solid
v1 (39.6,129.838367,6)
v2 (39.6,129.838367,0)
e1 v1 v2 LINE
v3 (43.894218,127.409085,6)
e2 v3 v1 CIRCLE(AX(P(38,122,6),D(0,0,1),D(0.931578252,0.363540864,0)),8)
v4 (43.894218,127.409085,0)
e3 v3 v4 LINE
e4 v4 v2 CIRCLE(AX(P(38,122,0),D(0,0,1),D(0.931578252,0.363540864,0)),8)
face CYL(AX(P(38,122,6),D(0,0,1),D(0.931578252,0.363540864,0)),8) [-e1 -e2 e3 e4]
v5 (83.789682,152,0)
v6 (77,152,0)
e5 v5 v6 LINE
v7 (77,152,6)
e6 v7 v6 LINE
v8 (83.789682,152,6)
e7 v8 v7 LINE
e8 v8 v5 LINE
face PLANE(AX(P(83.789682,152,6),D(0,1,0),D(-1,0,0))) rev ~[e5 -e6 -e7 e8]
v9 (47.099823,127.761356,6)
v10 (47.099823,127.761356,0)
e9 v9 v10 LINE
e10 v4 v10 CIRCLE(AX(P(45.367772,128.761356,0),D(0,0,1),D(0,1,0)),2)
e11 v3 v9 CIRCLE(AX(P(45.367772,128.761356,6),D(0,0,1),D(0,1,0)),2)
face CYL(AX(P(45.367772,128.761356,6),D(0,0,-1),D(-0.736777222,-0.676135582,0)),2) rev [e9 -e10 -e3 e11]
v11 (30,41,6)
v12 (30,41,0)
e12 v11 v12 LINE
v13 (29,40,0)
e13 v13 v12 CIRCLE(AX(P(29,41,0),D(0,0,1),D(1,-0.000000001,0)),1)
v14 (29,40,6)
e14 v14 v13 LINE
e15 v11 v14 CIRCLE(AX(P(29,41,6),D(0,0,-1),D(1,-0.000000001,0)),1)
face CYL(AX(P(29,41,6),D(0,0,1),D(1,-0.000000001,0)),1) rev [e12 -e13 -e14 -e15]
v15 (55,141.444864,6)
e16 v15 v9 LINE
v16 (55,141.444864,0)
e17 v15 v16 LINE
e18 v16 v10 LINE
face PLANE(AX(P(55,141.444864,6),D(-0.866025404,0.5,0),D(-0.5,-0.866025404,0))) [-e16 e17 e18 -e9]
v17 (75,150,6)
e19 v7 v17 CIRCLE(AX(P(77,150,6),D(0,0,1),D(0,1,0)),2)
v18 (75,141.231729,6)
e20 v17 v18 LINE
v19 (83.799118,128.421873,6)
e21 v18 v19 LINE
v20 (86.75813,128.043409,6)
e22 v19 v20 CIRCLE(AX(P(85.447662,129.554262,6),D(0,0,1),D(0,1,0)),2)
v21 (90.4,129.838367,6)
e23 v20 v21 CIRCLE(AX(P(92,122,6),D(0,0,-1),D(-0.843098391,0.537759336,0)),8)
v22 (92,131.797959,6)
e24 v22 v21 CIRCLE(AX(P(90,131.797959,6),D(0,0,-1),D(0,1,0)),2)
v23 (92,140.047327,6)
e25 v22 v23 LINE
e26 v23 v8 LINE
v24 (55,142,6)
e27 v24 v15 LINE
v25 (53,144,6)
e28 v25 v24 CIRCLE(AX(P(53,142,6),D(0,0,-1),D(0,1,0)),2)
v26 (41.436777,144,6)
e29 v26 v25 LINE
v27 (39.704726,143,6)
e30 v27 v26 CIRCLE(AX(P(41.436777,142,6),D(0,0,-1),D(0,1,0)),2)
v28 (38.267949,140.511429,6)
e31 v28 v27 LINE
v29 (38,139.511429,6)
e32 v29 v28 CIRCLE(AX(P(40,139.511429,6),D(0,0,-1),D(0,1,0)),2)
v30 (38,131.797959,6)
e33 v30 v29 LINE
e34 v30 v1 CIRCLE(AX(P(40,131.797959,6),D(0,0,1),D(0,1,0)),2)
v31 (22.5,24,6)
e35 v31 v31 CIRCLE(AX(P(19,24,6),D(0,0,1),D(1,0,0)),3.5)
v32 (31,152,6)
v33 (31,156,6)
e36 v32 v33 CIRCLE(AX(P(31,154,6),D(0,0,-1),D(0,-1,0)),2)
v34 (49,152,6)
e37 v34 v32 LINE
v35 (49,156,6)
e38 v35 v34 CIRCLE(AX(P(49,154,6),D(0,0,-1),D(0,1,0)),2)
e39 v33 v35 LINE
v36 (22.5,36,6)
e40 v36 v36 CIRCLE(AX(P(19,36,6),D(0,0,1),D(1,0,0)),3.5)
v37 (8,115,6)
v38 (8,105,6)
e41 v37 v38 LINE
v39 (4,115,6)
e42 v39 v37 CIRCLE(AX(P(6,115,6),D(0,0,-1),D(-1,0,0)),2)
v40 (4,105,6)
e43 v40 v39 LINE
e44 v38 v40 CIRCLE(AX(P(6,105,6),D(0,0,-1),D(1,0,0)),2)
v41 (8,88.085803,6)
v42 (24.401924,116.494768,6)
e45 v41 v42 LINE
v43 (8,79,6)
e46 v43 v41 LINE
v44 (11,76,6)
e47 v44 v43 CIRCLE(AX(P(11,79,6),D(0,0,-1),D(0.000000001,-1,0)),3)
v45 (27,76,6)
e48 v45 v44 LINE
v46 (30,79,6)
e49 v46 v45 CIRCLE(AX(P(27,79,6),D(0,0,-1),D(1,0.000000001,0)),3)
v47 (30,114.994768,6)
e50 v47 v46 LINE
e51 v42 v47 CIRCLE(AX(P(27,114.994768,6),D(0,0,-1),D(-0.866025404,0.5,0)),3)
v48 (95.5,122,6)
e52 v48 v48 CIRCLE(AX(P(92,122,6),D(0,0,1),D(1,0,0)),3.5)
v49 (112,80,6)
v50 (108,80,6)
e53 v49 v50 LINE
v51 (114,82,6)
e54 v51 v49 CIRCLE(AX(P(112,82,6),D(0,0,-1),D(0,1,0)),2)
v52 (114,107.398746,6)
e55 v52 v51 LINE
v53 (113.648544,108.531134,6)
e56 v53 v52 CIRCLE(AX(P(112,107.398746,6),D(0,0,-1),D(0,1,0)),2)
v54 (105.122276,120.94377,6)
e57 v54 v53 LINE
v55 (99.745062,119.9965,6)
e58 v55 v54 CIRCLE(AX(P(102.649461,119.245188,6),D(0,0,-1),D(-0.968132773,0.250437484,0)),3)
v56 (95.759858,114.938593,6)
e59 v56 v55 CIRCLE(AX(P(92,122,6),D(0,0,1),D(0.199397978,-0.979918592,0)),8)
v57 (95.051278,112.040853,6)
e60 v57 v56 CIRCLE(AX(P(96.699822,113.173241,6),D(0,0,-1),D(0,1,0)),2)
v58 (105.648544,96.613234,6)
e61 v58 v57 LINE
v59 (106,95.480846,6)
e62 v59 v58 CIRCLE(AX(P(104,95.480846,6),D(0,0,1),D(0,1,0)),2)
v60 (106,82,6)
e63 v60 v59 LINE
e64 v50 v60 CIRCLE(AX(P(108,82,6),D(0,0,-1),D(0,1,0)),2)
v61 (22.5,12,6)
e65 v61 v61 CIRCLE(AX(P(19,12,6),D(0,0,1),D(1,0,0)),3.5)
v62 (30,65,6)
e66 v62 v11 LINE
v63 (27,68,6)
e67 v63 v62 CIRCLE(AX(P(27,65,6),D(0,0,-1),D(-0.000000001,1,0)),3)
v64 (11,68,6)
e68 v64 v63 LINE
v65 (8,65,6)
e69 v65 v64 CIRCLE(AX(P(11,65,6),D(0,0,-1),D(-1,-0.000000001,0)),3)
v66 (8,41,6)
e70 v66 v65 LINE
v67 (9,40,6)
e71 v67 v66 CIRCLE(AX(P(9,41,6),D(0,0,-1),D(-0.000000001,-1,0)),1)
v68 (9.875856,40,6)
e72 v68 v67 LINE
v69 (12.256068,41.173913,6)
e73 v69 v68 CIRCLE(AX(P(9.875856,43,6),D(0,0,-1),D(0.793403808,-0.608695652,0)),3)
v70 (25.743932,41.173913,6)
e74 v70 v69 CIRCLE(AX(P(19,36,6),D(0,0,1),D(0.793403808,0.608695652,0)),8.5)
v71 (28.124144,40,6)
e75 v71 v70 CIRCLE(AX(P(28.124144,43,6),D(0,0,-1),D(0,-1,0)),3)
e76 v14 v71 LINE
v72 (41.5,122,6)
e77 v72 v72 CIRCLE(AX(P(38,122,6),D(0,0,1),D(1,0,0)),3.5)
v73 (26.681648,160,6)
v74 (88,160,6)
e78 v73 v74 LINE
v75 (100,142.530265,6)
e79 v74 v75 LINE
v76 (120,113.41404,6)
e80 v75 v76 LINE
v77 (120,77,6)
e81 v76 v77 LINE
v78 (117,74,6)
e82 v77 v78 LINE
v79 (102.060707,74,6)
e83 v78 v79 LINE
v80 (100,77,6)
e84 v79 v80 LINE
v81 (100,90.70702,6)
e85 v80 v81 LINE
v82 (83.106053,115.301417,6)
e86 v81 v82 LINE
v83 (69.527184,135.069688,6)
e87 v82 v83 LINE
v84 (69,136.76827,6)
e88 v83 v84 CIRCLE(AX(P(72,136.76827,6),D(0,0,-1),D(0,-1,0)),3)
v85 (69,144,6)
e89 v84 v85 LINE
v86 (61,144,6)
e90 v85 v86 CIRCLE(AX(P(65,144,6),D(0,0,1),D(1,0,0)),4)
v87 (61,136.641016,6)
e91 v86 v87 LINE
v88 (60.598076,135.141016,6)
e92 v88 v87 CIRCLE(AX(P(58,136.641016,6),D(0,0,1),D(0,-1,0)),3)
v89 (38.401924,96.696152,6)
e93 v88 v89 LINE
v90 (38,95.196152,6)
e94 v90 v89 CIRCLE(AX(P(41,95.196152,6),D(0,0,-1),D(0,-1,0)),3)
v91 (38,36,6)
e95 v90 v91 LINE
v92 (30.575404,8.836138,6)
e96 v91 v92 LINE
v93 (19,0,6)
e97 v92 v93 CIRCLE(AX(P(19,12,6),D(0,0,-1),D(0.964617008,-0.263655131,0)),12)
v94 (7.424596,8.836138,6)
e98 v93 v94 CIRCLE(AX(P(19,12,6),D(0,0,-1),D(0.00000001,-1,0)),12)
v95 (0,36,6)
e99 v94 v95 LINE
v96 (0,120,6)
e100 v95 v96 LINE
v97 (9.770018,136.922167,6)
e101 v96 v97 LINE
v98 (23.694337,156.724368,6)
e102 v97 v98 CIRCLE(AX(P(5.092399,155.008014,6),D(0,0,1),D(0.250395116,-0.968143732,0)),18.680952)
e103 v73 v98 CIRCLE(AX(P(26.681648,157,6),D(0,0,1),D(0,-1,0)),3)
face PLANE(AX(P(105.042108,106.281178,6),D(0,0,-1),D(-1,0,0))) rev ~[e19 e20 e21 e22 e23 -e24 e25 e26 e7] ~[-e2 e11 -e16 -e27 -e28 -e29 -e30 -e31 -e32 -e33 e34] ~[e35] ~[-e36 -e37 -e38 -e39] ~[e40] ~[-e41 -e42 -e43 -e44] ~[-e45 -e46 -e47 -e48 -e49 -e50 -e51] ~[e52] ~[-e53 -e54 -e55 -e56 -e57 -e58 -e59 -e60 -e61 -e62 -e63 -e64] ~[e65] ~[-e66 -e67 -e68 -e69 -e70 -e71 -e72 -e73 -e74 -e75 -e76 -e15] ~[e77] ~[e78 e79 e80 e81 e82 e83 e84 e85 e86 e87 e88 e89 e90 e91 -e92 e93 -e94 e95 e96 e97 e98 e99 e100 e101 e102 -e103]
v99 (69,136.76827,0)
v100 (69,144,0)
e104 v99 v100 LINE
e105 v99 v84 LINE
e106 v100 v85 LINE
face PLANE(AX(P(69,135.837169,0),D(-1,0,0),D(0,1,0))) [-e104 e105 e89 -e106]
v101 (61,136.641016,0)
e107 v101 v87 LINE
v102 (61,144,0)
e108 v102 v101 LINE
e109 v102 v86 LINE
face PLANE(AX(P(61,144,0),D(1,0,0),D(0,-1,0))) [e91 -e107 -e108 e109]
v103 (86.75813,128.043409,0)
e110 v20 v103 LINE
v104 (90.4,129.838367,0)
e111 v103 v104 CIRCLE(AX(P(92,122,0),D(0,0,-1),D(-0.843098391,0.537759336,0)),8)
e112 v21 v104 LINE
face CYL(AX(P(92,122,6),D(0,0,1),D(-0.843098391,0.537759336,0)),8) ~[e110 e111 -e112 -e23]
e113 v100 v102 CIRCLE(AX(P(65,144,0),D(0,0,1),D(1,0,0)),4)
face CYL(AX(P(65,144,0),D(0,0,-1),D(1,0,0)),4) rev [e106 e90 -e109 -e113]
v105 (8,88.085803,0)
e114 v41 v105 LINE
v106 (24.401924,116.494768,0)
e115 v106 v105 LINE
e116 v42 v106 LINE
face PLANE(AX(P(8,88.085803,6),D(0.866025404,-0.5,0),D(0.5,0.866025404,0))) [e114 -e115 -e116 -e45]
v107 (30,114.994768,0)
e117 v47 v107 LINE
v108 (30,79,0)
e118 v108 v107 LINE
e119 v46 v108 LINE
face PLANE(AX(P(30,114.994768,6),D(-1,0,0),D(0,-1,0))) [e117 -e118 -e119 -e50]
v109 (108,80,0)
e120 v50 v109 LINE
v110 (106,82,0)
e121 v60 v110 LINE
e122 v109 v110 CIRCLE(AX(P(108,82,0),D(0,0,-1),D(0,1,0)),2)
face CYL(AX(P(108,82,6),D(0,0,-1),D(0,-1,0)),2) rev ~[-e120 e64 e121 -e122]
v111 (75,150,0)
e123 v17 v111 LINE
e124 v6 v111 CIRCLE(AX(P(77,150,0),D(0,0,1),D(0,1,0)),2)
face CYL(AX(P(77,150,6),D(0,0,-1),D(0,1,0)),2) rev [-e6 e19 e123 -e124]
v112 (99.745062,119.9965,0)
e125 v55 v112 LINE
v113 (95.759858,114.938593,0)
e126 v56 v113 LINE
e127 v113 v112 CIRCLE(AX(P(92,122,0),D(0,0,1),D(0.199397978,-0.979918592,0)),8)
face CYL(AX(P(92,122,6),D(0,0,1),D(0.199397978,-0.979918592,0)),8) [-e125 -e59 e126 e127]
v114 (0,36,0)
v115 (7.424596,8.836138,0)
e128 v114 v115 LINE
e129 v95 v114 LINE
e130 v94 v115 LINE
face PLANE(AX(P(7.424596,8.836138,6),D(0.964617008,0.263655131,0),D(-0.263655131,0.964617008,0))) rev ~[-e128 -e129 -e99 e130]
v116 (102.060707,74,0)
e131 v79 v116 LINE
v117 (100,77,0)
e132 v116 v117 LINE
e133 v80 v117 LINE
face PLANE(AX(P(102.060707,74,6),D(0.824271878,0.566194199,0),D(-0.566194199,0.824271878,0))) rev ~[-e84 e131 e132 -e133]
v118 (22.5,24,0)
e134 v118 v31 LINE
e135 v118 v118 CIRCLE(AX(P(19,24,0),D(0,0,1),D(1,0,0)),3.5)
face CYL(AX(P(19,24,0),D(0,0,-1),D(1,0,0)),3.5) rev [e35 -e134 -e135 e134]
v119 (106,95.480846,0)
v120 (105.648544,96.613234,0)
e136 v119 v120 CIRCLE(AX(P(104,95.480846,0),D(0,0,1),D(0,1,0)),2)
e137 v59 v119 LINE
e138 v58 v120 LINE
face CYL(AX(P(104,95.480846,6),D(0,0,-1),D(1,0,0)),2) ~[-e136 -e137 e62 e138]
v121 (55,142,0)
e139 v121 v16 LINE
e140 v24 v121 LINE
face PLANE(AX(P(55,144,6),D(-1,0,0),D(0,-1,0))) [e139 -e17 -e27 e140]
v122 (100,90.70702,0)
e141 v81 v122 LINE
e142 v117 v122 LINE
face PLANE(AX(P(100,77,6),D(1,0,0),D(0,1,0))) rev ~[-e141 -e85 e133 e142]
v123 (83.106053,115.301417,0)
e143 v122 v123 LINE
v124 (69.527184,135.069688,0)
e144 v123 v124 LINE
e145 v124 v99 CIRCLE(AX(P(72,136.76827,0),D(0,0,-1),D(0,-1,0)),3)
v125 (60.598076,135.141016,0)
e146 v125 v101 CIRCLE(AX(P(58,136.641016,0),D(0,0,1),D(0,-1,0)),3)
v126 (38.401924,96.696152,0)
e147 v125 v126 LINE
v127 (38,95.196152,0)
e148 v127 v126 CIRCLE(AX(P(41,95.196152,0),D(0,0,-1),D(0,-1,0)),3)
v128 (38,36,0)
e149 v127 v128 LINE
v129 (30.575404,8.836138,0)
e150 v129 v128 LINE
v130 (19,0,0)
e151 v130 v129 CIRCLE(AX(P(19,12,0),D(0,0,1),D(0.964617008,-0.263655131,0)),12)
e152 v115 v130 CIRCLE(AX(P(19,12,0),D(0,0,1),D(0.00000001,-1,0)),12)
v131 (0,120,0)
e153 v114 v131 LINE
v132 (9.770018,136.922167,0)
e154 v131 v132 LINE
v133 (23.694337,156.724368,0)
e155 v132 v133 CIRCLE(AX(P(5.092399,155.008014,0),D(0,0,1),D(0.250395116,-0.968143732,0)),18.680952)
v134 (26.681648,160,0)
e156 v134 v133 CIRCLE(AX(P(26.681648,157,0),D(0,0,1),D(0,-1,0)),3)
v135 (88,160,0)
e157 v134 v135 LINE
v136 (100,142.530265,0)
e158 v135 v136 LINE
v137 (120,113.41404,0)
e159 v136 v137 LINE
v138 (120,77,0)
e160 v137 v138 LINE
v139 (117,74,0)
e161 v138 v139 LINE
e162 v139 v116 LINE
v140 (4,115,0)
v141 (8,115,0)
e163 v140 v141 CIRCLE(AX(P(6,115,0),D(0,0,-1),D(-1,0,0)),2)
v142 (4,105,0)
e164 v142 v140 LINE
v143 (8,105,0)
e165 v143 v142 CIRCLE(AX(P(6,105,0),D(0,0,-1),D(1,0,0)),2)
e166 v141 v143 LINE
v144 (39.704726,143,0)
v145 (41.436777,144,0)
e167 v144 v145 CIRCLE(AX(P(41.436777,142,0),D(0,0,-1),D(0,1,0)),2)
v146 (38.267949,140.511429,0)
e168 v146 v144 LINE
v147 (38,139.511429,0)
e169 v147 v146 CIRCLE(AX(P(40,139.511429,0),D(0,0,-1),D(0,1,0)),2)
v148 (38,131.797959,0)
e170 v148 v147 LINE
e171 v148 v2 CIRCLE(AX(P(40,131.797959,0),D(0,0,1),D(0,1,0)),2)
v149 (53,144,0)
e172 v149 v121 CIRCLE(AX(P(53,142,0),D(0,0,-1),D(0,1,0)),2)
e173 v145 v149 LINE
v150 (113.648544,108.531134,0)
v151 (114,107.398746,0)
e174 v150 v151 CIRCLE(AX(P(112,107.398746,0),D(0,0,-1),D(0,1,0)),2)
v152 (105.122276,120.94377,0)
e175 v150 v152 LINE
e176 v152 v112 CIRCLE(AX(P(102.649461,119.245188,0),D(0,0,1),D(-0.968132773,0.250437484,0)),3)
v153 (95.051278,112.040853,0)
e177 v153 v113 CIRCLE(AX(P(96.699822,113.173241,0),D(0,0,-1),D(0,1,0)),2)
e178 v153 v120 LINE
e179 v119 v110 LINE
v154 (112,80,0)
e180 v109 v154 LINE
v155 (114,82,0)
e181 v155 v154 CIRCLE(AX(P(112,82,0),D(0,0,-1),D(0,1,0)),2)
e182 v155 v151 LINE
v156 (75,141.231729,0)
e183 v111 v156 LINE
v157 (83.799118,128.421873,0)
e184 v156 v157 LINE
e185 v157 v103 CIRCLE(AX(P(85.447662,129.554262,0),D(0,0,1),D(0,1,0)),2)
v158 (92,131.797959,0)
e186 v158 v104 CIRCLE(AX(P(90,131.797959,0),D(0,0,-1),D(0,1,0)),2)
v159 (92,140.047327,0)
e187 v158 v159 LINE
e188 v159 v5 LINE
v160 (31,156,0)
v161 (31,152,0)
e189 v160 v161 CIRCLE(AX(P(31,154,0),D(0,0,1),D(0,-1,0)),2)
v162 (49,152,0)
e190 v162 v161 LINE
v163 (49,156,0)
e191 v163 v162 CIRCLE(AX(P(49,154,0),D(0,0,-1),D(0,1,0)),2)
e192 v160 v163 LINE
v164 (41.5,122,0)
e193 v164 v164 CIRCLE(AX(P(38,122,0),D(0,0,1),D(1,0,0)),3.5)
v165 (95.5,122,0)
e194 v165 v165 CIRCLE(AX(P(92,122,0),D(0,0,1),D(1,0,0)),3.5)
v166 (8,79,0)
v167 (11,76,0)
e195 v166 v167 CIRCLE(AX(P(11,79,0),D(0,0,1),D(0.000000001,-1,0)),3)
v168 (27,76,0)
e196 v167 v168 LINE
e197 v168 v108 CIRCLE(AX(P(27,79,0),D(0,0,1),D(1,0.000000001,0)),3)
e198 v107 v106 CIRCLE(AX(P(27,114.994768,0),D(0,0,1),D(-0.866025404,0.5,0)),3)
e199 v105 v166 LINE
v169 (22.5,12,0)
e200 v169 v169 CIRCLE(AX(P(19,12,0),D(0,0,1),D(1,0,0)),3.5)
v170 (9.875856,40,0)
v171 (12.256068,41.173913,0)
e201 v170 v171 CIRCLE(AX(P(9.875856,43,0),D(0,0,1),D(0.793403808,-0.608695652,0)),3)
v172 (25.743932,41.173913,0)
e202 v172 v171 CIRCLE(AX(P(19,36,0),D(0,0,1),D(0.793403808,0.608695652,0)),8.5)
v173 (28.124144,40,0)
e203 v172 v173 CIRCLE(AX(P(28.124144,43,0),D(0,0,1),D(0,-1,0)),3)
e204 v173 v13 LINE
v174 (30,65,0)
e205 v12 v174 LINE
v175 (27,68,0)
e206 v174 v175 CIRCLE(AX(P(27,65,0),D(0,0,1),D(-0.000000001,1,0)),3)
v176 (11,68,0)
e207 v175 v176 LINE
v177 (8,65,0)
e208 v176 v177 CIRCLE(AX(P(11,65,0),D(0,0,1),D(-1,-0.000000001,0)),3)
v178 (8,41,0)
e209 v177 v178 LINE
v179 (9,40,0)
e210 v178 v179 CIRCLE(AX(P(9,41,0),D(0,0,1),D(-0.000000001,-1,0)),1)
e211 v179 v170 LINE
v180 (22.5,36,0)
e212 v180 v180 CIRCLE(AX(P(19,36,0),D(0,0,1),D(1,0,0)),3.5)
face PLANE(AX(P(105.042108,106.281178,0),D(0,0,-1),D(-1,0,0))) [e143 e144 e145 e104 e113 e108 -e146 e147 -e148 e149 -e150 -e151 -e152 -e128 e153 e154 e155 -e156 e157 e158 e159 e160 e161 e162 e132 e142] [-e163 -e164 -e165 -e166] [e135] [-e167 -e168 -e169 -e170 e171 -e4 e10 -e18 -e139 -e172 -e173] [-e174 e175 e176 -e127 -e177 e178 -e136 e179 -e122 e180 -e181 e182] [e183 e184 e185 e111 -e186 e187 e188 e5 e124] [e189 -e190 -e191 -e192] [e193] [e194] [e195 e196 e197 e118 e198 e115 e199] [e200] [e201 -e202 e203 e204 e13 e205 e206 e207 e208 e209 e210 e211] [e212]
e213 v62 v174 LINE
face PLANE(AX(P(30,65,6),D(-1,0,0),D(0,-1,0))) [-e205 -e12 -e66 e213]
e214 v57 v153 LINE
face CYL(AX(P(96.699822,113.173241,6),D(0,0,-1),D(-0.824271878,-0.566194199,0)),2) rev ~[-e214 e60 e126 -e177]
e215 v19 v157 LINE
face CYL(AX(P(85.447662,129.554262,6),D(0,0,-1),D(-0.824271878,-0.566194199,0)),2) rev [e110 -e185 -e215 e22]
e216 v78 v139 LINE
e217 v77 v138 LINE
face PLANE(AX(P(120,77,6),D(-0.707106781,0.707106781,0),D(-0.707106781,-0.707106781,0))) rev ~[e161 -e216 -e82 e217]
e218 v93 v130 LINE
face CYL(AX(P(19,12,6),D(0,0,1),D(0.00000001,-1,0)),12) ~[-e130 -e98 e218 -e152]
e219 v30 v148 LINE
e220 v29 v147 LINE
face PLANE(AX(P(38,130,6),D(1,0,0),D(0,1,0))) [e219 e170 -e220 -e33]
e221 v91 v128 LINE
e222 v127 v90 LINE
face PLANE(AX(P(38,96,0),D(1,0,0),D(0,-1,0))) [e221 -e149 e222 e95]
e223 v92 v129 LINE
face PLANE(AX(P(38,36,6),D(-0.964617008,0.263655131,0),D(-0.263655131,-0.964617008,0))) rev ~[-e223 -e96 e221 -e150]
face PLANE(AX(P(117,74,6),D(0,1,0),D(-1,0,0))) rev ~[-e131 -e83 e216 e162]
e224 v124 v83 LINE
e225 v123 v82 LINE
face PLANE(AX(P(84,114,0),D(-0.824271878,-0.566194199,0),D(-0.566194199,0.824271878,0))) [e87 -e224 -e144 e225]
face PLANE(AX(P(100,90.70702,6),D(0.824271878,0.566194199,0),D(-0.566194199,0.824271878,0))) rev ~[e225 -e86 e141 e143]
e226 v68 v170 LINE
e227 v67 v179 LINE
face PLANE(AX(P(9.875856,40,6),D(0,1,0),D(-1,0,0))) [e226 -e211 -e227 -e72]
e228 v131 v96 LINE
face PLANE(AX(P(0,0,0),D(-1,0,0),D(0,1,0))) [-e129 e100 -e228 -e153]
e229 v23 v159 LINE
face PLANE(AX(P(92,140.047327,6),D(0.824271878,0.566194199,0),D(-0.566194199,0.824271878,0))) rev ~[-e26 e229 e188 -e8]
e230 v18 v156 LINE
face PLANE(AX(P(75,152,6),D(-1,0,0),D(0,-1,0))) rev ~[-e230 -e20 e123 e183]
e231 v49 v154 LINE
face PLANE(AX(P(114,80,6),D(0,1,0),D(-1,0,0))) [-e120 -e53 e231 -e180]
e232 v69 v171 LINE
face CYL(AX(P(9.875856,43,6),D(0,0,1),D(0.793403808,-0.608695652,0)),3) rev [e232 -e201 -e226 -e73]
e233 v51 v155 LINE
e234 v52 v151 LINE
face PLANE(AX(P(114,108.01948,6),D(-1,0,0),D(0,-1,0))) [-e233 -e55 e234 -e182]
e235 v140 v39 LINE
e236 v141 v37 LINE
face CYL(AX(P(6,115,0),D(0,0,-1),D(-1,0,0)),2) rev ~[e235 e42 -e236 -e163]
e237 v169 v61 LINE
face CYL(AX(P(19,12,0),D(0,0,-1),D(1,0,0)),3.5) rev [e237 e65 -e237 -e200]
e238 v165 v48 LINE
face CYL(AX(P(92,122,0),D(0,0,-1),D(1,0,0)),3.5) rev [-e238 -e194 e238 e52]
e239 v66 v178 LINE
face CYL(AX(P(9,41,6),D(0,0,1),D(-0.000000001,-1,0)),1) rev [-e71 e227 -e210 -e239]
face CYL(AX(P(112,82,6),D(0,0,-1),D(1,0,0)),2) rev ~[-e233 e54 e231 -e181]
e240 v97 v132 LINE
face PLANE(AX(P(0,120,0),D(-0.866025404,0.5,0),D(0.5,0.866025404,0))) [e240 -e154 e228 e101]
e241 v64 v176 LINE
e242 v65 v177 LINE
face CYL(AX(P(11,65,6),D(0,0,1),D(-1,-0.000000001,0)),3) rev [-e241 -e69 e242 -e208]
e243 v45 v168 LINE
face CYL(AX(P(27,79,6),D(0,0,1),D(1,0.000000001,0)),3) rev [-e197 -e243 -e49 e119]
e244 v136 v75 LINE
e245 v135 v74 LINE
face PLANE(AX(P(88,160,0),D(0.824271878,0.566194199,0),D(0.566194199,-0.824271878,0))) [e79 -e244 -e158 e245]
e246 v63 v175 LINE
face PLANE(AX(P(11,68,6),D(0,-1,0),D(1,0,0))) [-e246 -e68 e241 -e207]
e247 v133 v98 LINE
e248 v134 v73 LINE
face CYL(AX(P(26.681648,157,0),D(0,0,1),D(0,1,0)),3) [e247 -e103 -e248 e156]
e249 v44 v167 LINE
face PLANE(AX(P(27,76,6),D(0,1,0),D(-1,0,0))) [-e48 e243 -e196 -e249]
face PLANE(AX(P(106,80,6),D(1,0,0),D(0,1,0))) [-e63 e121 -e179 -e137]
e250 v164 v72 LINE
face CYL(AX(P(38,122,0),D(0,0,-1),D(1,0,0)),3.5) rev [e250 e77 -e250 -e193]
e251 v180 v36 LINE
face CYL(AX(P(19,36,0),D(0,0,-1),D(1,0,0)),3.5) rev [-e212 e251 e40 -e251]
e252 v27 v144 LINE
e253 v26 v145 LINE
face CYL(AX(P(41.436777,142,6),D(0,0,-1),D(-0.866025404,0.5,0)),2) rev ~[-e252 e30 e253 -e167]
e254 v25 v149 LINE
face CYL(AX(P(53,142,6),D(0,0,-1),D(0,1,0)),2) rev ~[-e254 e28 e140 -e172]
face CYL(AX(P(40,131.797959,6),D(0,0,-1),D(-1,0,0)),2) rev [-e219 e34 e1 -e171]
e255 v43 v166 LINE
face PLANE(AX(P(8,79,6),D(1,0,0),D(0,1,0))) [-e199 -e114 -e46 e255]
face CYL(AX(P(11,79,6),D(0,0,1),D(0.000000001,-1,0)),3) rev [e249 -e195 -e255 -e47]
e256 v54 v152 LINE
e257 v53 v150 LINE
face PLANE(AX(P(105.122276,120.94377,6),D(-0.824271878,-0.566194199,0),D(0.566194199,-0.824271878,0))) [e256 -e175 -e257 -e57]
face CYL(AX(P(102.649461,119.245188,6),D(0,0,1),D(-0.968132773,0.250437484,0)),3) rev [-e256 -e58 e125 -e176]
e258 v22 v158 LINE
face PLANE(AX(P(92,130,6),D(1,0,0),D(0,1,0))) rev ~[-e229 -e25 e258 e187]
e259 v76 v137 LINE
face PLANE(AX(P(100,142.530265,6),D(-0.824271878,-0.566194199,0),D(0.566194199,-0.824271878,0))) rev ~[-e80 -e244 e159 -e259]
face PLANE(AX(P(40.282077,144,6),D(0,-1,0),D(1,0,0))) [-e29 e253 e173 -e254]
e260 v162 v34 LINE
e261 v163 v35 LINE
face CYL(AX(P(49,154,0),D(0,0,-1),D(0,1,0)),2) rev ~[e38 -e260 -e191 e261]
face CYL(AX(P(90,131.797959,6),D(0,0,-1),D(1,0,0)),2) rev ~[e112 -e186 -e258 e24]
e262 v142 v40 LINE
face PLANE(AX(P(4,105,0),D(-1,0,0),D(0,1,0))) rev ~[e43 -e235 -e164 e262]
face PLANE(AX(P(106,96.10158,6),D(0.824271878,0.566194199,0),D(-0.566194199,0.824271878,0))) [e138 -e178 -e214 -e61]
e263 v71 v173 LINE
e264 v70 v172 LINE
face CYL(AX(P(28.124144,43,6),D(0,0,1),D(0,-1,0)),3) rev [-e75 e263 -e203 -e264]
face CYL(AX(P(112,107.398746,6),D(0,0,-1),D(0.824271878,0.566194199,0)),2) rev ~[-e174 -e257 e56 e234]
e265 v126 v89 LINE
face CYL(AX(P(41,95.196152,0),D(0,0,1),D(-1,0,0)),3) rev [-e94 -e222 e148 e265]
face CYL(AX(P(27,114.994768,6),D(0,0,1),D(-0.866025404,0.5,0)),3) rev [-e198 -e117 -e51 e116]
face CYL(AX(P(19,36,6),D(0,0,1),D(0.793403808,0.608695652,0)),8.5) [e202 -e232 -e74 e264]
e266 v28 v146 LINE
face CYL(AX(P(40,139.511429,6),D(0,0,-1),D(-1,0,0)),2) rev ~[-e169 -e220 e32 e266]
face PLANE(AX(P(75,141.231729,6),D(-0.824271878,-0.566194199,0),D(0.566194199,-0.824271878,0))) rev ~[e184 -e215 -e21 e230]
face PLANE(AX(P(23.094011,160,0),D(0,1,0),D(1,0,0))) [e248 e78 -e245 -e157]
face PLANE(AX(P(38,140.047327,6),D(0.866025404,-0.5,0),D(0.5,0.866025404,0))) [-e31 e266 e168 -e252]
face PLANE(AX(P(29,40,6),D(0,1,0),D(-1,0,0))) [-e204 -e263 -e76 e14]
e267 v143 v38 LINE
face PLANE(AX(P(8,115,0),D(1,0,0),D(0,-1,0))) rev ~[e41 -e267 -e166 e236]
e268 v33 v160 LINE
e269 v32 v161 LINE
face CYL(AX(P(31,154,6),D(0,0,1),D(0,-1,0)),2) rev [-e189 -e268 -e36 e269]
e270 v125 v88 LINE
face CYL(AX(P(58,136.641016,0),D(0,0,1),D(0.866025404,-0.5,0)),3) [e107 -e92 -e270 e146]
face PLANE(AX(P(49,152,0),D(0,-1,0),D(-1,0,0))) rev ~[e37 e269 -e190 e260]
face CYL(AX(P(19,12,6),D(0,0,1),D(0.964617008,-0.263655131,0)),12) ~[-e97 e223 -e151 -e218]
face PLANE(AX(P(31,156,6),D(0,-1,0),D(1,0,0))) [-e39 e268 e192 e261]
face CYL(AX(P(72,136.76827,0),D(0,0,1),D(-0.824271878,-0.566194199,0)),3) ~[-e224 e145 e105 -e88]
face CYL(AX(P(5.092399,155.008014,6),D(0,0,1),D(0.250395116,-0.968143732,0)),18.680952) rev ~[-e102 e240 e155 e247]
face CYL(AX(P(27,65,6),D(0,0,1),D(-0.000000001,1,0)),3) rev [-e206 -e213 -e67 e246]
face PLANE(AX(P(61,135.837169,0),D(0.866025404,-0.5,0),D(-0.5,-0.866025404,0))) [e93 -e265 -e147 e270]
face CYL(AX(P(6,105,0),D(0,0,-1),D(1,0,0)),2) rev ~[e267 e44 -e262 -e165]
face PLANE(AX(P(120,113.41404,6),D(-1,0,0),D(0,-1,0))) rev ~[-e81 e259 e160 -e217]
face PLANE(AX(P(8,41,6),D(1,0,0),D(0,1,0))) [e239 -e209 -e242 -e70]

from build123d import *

# Parameters (mm, degrees)
ESBO_O1_R                = 3.5
RESSALTO_EXTRUS_O1_DEPTH = 6
FILETE1_R                = 3
CHANFRO1_SIZE            = 2
CORTE_EXTRUS_O1_DEPTH    = 6
RESSALTO_EXTRUS_O2_DEPTH = 6
CORTE_EXTRUS_O2_DEPTH    = 10
FILETE2_R                = 2
CORTE_EXTRUS_O3_DEPTH    = 10
CORTE_EXTRUS_O4_DEPTH    = 201.089979759
CORTE_EXTRUS_O5_DEPTH    = 201.089979759
FILETE3_R                = 3


with BuildPart() as part:
    # Esboço1 → Ressalto-extrusão1 (new body)
    with BuildSketch(Plane.XY):
        with BuildLine():
            Line((23.094010768, 160), (88, 160))
            Line((88, 160), (100, 142.530265141))
            Line((100, 142.530265141), (100, 114))
            Line((100, 114), (84, 114))
            Line((84, 114), (69, 135.837168574))
            Line((69, 135.837168574), (69, 144))
            ThreePointArc((69, 144), (65, 148), (61, 144))
            Line((61, 144), (61, 135.837168574))
            Line((61, 135.837168574), (38, 96))
            Line((38, 96), (38, 0))
            Line((38, 0), (0, 0))
            Line((0, 0), (0, 120))
            Line((0, 120), (23.094010768, 160))
        make_face()
        with Locations((19, 12)):
            Circle(ESBO_O1_R, mode=Mode.SUBTRACT)
        with Locations((19, 24)):
            Circle(ESBO_O1_R, mode=Mode.SUBTRACT)
        with Locations((19, 36)):
            Circle(ESBO_O1_R, mode=Mode.SUBTRACT)
        with Locations((92, 122)):
            Circle(ESBO_O1_R, mode=Mode.SUBTRACT)
        with Locations((38, 122)):
            Circle(ESBO_O1_R, mode=Mode.SUBTRACT)
        with BuildLine():
            Line((41, 156), (49, 156))
            ThreePointArc((49, 156), (51, 154), (49, 152))
            Line((49, 152), (41, 152))
            ThreePointArc((41, 152), (39, 154), (41, 156))
        make_face(mode=Mode.SUBTRACT)
        with BuildLine():
            Line((8, 115), (8, 105))
            ThreePointArc((8, 105), (6, 103), (4, 105))
            Line((4, 105), (4, 115))
            ThreePointArc((4, 115), (6, 117), (8, 115))
        make_face(mode=Mode.SUBTRACT)
    extrude(amount=RESSALTO_EXTRUS_O1_DEPTH)

    # Filete1
    filete1_edges = [part.edges().sort_by_distance(p)[0] for p in [
        (100, 114, 3),
        (84, 114, 3),
        (69, 135.837168574, 3),
        (61, 135.837168574, 3),
        (38, 96, 3),
    ]]
    fillet(filete1_edges, radius=FILETE1_R)

    # Chanfro1
    chanfro1_edges = [part.edges().sort_by_distance(p)[0] for p in [
        (38, 0, 3),
        (0, 0, 3),
    ]]
    chamfer(chanfro1_edges, length=CHANFRO1_SIZE)

    # Esboço2 → Corte-extrusão1 (cut)
    with BuildSketch(Plane.XY.offset(6)):
        with BuildLine():
            Line((75, 152), (75, 141.231728845))
            Line((75, 141.231728845), (85.255212875, 126.30207469))
            ThreePointArc((85.255212875, 126.30207469), (88.154001919, 129.014862704), (92, 130))
            Line((92, 130), (92, 140.047327347))
            Line((92, 140.047327347), (83.789682385, 152))
            Line((83.789682385, 152), (75, 152))
        make_face()
        with BuildLine():
            Line((38, 130), (38, 140.047327347))
            Line((38, 140.047327347), (40.28207662, 144))
            Line((40.28207662, 144), (55, 144))
            Line((55, 144), (55, 141.444863729))
            Line((55, 141.444863729), (45.452626018, 124.908326913))
            ThreePointArc((45.452626018, 124.908326913), (42.512947191, 128.605551275), (38, 130))
        make_face()
    extrude(amount=-CORTE_EXTRUS_O1_DEPTH, mode=Mode.SUBTRACT)

    # Esboço3 → Ressalto-extrusão2 (add, through all)
    with BuildSketch(Plane.XY.offset(6)):
        Polygon((100, 142.530265141), (120, 113.414040375), (120, 77), (117, 74), (102.060706719, 74), (100, 77), (100, 90.707020188), (83.106053471, 115.301417403), (100, 117), align=None)
    extrude(amount=-RESSALTO_EXTRUS_O2_DEPTH)

    # Esboço4 → Corte-extrusão2 (cut)
    with BuildSketch(Plane.XY.offset(6)):
        with BuildLine():
            Line((105.122276139, 120.943770271), (114, 108.019480105))
            Line((114, 108.019480105), (114, 80))
            Line((114, 80), (106, 80))
            Line((106, 80), (106, 96.101580458))
            Line((106, 96.101580458), (93.595183818, 114.160651265))
            ThreePointArc((93.595183818, 114.160651265), (97.506753293, 116.196925973), (99.745062186, 119.996500127))
            ThreePointArc((99.745062186, 119.996500127), (102.128983719, 122.199693371), (105.122276139, 120.943770271))
        make_face()
    extrude(amount=-CORTE_EXTRUS_O2_DEPTH, mode=Mode.SUBTRACT)

    # Filete2
    filete2_edges = [part.edges().sort_by_distance(p)[0] for p in [
        (75, 152, 3),
        (92, 130, 3),
        (85.255212875, 126.30207469, 3),
        (45.452626018, 124.908326913, 3),
        (38, 130, 3),
        (38, 140.047327347, 3),
        (40.28207662, 144, 3),
        (55, 144, 3),
        (114, 108.019480105, 3),
        (114, 80, 3),
        (106, 80, 3),
        (106, 96.101580458, 3),
        (93.595183818, 114.160651265, 3),
    ]]
    fillet(filete2_edges, radius=FILETE2_R)

    # Esboço5 → Corte-extrusão3 (cut)
    with BuildSketch(Plane.XY.offset(6)):
        with BuildLine():
            ThreePointArc((19.000000124, 0), (11.718734325, 2.46149015), (7.424595906, 8.836138426))
            Line((7.424595906, 8.836138426), (0, 36))
            Line((0, 36), (0, 0))
            Line((0, 0), (19.000000124, 0))
        make_face()
        with BuildLine():
            ThreePointArc((30.575404094, 8.836138426), (26.281265774, 2.461490225), (19.000000124, 0))
            Line((19.000000124, 0), (38, 0))
            Line((38, 0), (38, 36))
            Line((38, 36), (30.575404094, 8.836138426))
        make_face()
        with BuildLine():
            Line((30, 65), (30, 41))
            ThreePointArc((30, 41), (29.707106781, 40.292893219), (29, 40))
            Line((29, 40), (28.124143795, 40))
            ThreePointArc((28.124143795, 40), (26.79716619, 40.309436781), (25.743932371, 41.173913043))
            ThreePointArc((25.743932371, 41.173913043), (19, 44.5), (12.256067629, 41.173913043))
            ThreePointArc((12.256067629, 41.173913043), (11.20283381, 40.309436781), (9.875856205, 40))
            Line((9.875856205, 40), (9, 40))
            ThreePointArc((9, 40), (8.292893219, 40.292893219), (8, 41))
            Line((8, 41), (8, 65))
            ThreePointArc((8, 65), (8.878679656, 67.121320344), (11, 68))
            Line((11, 68), (27, 68))
            ThreePointArc((27, 68), (29.121320344, 67.121320344), (30, 65))
        make_face()
        with BuildLine():
            ThreePointArc((30, 79), (29.121320344, 76.878679656), (27, 76))
            Line((27, 76), (11, 76))
            ThreePointArc((11, 76), (8.878679656, 76.878679656), (8, 79))
            Line((8, 79), (8, 88.08580312))
            Line((8, 88.08580312), (24.401923789, 116.494768463))
            ThreePointArc((24.401923789, 116.494768463), (27.776457135, 117.892545942), (30, 114.994768463))
            Line((30, 114.994768463), (30, 79))
        make_face()
    extrude(amount=-CORTE_EXTRUS_O3_DEPTH, mode=Mode.SUBTRACT)

    # Esboço6 → Corte-extrusão4 (cut, through all)
    with BuildSketch(Plane.XY.offset(6)):
        with BuildLine():
            Line((31, 156), (49, 156))
            ThreePointArc((49, 156), (51, 154), (49, 152))
            Line((49, 152), (31, 152))
            ThreePointArc((31, 152), (29, 154), (31, 156))
        make_face()
    extrude(amount=-CORTE_EXTRUS_O4_DEPTH, mode=Mode.SUBTRACT)

    # Esboço7 → Corte-extrusão5 (cut, through all)
    with BuildSketch(Plane.XY.offset(6)):
        with BuildLine():
            Line((23.094010768, 160), (9.770017724, 136.92216709))
            ThreePointArc((9.770017724, 136.92216709), (21.270577597, 145.667537692), (23.094010768, 160))
        make_face()
    extrude(amount=-CORTE_EXTRUS_O5_DEPTH, mode=Mode.SUBTRACT)

    # Filete3
    filete3_edges = [part.edges().sort_by_distance(p)[0] for p in [
        (23.094010768, 160, 3),
    ]]
    fillet(filete3_edges, radius=FILETE3_R)


solid = part.part
